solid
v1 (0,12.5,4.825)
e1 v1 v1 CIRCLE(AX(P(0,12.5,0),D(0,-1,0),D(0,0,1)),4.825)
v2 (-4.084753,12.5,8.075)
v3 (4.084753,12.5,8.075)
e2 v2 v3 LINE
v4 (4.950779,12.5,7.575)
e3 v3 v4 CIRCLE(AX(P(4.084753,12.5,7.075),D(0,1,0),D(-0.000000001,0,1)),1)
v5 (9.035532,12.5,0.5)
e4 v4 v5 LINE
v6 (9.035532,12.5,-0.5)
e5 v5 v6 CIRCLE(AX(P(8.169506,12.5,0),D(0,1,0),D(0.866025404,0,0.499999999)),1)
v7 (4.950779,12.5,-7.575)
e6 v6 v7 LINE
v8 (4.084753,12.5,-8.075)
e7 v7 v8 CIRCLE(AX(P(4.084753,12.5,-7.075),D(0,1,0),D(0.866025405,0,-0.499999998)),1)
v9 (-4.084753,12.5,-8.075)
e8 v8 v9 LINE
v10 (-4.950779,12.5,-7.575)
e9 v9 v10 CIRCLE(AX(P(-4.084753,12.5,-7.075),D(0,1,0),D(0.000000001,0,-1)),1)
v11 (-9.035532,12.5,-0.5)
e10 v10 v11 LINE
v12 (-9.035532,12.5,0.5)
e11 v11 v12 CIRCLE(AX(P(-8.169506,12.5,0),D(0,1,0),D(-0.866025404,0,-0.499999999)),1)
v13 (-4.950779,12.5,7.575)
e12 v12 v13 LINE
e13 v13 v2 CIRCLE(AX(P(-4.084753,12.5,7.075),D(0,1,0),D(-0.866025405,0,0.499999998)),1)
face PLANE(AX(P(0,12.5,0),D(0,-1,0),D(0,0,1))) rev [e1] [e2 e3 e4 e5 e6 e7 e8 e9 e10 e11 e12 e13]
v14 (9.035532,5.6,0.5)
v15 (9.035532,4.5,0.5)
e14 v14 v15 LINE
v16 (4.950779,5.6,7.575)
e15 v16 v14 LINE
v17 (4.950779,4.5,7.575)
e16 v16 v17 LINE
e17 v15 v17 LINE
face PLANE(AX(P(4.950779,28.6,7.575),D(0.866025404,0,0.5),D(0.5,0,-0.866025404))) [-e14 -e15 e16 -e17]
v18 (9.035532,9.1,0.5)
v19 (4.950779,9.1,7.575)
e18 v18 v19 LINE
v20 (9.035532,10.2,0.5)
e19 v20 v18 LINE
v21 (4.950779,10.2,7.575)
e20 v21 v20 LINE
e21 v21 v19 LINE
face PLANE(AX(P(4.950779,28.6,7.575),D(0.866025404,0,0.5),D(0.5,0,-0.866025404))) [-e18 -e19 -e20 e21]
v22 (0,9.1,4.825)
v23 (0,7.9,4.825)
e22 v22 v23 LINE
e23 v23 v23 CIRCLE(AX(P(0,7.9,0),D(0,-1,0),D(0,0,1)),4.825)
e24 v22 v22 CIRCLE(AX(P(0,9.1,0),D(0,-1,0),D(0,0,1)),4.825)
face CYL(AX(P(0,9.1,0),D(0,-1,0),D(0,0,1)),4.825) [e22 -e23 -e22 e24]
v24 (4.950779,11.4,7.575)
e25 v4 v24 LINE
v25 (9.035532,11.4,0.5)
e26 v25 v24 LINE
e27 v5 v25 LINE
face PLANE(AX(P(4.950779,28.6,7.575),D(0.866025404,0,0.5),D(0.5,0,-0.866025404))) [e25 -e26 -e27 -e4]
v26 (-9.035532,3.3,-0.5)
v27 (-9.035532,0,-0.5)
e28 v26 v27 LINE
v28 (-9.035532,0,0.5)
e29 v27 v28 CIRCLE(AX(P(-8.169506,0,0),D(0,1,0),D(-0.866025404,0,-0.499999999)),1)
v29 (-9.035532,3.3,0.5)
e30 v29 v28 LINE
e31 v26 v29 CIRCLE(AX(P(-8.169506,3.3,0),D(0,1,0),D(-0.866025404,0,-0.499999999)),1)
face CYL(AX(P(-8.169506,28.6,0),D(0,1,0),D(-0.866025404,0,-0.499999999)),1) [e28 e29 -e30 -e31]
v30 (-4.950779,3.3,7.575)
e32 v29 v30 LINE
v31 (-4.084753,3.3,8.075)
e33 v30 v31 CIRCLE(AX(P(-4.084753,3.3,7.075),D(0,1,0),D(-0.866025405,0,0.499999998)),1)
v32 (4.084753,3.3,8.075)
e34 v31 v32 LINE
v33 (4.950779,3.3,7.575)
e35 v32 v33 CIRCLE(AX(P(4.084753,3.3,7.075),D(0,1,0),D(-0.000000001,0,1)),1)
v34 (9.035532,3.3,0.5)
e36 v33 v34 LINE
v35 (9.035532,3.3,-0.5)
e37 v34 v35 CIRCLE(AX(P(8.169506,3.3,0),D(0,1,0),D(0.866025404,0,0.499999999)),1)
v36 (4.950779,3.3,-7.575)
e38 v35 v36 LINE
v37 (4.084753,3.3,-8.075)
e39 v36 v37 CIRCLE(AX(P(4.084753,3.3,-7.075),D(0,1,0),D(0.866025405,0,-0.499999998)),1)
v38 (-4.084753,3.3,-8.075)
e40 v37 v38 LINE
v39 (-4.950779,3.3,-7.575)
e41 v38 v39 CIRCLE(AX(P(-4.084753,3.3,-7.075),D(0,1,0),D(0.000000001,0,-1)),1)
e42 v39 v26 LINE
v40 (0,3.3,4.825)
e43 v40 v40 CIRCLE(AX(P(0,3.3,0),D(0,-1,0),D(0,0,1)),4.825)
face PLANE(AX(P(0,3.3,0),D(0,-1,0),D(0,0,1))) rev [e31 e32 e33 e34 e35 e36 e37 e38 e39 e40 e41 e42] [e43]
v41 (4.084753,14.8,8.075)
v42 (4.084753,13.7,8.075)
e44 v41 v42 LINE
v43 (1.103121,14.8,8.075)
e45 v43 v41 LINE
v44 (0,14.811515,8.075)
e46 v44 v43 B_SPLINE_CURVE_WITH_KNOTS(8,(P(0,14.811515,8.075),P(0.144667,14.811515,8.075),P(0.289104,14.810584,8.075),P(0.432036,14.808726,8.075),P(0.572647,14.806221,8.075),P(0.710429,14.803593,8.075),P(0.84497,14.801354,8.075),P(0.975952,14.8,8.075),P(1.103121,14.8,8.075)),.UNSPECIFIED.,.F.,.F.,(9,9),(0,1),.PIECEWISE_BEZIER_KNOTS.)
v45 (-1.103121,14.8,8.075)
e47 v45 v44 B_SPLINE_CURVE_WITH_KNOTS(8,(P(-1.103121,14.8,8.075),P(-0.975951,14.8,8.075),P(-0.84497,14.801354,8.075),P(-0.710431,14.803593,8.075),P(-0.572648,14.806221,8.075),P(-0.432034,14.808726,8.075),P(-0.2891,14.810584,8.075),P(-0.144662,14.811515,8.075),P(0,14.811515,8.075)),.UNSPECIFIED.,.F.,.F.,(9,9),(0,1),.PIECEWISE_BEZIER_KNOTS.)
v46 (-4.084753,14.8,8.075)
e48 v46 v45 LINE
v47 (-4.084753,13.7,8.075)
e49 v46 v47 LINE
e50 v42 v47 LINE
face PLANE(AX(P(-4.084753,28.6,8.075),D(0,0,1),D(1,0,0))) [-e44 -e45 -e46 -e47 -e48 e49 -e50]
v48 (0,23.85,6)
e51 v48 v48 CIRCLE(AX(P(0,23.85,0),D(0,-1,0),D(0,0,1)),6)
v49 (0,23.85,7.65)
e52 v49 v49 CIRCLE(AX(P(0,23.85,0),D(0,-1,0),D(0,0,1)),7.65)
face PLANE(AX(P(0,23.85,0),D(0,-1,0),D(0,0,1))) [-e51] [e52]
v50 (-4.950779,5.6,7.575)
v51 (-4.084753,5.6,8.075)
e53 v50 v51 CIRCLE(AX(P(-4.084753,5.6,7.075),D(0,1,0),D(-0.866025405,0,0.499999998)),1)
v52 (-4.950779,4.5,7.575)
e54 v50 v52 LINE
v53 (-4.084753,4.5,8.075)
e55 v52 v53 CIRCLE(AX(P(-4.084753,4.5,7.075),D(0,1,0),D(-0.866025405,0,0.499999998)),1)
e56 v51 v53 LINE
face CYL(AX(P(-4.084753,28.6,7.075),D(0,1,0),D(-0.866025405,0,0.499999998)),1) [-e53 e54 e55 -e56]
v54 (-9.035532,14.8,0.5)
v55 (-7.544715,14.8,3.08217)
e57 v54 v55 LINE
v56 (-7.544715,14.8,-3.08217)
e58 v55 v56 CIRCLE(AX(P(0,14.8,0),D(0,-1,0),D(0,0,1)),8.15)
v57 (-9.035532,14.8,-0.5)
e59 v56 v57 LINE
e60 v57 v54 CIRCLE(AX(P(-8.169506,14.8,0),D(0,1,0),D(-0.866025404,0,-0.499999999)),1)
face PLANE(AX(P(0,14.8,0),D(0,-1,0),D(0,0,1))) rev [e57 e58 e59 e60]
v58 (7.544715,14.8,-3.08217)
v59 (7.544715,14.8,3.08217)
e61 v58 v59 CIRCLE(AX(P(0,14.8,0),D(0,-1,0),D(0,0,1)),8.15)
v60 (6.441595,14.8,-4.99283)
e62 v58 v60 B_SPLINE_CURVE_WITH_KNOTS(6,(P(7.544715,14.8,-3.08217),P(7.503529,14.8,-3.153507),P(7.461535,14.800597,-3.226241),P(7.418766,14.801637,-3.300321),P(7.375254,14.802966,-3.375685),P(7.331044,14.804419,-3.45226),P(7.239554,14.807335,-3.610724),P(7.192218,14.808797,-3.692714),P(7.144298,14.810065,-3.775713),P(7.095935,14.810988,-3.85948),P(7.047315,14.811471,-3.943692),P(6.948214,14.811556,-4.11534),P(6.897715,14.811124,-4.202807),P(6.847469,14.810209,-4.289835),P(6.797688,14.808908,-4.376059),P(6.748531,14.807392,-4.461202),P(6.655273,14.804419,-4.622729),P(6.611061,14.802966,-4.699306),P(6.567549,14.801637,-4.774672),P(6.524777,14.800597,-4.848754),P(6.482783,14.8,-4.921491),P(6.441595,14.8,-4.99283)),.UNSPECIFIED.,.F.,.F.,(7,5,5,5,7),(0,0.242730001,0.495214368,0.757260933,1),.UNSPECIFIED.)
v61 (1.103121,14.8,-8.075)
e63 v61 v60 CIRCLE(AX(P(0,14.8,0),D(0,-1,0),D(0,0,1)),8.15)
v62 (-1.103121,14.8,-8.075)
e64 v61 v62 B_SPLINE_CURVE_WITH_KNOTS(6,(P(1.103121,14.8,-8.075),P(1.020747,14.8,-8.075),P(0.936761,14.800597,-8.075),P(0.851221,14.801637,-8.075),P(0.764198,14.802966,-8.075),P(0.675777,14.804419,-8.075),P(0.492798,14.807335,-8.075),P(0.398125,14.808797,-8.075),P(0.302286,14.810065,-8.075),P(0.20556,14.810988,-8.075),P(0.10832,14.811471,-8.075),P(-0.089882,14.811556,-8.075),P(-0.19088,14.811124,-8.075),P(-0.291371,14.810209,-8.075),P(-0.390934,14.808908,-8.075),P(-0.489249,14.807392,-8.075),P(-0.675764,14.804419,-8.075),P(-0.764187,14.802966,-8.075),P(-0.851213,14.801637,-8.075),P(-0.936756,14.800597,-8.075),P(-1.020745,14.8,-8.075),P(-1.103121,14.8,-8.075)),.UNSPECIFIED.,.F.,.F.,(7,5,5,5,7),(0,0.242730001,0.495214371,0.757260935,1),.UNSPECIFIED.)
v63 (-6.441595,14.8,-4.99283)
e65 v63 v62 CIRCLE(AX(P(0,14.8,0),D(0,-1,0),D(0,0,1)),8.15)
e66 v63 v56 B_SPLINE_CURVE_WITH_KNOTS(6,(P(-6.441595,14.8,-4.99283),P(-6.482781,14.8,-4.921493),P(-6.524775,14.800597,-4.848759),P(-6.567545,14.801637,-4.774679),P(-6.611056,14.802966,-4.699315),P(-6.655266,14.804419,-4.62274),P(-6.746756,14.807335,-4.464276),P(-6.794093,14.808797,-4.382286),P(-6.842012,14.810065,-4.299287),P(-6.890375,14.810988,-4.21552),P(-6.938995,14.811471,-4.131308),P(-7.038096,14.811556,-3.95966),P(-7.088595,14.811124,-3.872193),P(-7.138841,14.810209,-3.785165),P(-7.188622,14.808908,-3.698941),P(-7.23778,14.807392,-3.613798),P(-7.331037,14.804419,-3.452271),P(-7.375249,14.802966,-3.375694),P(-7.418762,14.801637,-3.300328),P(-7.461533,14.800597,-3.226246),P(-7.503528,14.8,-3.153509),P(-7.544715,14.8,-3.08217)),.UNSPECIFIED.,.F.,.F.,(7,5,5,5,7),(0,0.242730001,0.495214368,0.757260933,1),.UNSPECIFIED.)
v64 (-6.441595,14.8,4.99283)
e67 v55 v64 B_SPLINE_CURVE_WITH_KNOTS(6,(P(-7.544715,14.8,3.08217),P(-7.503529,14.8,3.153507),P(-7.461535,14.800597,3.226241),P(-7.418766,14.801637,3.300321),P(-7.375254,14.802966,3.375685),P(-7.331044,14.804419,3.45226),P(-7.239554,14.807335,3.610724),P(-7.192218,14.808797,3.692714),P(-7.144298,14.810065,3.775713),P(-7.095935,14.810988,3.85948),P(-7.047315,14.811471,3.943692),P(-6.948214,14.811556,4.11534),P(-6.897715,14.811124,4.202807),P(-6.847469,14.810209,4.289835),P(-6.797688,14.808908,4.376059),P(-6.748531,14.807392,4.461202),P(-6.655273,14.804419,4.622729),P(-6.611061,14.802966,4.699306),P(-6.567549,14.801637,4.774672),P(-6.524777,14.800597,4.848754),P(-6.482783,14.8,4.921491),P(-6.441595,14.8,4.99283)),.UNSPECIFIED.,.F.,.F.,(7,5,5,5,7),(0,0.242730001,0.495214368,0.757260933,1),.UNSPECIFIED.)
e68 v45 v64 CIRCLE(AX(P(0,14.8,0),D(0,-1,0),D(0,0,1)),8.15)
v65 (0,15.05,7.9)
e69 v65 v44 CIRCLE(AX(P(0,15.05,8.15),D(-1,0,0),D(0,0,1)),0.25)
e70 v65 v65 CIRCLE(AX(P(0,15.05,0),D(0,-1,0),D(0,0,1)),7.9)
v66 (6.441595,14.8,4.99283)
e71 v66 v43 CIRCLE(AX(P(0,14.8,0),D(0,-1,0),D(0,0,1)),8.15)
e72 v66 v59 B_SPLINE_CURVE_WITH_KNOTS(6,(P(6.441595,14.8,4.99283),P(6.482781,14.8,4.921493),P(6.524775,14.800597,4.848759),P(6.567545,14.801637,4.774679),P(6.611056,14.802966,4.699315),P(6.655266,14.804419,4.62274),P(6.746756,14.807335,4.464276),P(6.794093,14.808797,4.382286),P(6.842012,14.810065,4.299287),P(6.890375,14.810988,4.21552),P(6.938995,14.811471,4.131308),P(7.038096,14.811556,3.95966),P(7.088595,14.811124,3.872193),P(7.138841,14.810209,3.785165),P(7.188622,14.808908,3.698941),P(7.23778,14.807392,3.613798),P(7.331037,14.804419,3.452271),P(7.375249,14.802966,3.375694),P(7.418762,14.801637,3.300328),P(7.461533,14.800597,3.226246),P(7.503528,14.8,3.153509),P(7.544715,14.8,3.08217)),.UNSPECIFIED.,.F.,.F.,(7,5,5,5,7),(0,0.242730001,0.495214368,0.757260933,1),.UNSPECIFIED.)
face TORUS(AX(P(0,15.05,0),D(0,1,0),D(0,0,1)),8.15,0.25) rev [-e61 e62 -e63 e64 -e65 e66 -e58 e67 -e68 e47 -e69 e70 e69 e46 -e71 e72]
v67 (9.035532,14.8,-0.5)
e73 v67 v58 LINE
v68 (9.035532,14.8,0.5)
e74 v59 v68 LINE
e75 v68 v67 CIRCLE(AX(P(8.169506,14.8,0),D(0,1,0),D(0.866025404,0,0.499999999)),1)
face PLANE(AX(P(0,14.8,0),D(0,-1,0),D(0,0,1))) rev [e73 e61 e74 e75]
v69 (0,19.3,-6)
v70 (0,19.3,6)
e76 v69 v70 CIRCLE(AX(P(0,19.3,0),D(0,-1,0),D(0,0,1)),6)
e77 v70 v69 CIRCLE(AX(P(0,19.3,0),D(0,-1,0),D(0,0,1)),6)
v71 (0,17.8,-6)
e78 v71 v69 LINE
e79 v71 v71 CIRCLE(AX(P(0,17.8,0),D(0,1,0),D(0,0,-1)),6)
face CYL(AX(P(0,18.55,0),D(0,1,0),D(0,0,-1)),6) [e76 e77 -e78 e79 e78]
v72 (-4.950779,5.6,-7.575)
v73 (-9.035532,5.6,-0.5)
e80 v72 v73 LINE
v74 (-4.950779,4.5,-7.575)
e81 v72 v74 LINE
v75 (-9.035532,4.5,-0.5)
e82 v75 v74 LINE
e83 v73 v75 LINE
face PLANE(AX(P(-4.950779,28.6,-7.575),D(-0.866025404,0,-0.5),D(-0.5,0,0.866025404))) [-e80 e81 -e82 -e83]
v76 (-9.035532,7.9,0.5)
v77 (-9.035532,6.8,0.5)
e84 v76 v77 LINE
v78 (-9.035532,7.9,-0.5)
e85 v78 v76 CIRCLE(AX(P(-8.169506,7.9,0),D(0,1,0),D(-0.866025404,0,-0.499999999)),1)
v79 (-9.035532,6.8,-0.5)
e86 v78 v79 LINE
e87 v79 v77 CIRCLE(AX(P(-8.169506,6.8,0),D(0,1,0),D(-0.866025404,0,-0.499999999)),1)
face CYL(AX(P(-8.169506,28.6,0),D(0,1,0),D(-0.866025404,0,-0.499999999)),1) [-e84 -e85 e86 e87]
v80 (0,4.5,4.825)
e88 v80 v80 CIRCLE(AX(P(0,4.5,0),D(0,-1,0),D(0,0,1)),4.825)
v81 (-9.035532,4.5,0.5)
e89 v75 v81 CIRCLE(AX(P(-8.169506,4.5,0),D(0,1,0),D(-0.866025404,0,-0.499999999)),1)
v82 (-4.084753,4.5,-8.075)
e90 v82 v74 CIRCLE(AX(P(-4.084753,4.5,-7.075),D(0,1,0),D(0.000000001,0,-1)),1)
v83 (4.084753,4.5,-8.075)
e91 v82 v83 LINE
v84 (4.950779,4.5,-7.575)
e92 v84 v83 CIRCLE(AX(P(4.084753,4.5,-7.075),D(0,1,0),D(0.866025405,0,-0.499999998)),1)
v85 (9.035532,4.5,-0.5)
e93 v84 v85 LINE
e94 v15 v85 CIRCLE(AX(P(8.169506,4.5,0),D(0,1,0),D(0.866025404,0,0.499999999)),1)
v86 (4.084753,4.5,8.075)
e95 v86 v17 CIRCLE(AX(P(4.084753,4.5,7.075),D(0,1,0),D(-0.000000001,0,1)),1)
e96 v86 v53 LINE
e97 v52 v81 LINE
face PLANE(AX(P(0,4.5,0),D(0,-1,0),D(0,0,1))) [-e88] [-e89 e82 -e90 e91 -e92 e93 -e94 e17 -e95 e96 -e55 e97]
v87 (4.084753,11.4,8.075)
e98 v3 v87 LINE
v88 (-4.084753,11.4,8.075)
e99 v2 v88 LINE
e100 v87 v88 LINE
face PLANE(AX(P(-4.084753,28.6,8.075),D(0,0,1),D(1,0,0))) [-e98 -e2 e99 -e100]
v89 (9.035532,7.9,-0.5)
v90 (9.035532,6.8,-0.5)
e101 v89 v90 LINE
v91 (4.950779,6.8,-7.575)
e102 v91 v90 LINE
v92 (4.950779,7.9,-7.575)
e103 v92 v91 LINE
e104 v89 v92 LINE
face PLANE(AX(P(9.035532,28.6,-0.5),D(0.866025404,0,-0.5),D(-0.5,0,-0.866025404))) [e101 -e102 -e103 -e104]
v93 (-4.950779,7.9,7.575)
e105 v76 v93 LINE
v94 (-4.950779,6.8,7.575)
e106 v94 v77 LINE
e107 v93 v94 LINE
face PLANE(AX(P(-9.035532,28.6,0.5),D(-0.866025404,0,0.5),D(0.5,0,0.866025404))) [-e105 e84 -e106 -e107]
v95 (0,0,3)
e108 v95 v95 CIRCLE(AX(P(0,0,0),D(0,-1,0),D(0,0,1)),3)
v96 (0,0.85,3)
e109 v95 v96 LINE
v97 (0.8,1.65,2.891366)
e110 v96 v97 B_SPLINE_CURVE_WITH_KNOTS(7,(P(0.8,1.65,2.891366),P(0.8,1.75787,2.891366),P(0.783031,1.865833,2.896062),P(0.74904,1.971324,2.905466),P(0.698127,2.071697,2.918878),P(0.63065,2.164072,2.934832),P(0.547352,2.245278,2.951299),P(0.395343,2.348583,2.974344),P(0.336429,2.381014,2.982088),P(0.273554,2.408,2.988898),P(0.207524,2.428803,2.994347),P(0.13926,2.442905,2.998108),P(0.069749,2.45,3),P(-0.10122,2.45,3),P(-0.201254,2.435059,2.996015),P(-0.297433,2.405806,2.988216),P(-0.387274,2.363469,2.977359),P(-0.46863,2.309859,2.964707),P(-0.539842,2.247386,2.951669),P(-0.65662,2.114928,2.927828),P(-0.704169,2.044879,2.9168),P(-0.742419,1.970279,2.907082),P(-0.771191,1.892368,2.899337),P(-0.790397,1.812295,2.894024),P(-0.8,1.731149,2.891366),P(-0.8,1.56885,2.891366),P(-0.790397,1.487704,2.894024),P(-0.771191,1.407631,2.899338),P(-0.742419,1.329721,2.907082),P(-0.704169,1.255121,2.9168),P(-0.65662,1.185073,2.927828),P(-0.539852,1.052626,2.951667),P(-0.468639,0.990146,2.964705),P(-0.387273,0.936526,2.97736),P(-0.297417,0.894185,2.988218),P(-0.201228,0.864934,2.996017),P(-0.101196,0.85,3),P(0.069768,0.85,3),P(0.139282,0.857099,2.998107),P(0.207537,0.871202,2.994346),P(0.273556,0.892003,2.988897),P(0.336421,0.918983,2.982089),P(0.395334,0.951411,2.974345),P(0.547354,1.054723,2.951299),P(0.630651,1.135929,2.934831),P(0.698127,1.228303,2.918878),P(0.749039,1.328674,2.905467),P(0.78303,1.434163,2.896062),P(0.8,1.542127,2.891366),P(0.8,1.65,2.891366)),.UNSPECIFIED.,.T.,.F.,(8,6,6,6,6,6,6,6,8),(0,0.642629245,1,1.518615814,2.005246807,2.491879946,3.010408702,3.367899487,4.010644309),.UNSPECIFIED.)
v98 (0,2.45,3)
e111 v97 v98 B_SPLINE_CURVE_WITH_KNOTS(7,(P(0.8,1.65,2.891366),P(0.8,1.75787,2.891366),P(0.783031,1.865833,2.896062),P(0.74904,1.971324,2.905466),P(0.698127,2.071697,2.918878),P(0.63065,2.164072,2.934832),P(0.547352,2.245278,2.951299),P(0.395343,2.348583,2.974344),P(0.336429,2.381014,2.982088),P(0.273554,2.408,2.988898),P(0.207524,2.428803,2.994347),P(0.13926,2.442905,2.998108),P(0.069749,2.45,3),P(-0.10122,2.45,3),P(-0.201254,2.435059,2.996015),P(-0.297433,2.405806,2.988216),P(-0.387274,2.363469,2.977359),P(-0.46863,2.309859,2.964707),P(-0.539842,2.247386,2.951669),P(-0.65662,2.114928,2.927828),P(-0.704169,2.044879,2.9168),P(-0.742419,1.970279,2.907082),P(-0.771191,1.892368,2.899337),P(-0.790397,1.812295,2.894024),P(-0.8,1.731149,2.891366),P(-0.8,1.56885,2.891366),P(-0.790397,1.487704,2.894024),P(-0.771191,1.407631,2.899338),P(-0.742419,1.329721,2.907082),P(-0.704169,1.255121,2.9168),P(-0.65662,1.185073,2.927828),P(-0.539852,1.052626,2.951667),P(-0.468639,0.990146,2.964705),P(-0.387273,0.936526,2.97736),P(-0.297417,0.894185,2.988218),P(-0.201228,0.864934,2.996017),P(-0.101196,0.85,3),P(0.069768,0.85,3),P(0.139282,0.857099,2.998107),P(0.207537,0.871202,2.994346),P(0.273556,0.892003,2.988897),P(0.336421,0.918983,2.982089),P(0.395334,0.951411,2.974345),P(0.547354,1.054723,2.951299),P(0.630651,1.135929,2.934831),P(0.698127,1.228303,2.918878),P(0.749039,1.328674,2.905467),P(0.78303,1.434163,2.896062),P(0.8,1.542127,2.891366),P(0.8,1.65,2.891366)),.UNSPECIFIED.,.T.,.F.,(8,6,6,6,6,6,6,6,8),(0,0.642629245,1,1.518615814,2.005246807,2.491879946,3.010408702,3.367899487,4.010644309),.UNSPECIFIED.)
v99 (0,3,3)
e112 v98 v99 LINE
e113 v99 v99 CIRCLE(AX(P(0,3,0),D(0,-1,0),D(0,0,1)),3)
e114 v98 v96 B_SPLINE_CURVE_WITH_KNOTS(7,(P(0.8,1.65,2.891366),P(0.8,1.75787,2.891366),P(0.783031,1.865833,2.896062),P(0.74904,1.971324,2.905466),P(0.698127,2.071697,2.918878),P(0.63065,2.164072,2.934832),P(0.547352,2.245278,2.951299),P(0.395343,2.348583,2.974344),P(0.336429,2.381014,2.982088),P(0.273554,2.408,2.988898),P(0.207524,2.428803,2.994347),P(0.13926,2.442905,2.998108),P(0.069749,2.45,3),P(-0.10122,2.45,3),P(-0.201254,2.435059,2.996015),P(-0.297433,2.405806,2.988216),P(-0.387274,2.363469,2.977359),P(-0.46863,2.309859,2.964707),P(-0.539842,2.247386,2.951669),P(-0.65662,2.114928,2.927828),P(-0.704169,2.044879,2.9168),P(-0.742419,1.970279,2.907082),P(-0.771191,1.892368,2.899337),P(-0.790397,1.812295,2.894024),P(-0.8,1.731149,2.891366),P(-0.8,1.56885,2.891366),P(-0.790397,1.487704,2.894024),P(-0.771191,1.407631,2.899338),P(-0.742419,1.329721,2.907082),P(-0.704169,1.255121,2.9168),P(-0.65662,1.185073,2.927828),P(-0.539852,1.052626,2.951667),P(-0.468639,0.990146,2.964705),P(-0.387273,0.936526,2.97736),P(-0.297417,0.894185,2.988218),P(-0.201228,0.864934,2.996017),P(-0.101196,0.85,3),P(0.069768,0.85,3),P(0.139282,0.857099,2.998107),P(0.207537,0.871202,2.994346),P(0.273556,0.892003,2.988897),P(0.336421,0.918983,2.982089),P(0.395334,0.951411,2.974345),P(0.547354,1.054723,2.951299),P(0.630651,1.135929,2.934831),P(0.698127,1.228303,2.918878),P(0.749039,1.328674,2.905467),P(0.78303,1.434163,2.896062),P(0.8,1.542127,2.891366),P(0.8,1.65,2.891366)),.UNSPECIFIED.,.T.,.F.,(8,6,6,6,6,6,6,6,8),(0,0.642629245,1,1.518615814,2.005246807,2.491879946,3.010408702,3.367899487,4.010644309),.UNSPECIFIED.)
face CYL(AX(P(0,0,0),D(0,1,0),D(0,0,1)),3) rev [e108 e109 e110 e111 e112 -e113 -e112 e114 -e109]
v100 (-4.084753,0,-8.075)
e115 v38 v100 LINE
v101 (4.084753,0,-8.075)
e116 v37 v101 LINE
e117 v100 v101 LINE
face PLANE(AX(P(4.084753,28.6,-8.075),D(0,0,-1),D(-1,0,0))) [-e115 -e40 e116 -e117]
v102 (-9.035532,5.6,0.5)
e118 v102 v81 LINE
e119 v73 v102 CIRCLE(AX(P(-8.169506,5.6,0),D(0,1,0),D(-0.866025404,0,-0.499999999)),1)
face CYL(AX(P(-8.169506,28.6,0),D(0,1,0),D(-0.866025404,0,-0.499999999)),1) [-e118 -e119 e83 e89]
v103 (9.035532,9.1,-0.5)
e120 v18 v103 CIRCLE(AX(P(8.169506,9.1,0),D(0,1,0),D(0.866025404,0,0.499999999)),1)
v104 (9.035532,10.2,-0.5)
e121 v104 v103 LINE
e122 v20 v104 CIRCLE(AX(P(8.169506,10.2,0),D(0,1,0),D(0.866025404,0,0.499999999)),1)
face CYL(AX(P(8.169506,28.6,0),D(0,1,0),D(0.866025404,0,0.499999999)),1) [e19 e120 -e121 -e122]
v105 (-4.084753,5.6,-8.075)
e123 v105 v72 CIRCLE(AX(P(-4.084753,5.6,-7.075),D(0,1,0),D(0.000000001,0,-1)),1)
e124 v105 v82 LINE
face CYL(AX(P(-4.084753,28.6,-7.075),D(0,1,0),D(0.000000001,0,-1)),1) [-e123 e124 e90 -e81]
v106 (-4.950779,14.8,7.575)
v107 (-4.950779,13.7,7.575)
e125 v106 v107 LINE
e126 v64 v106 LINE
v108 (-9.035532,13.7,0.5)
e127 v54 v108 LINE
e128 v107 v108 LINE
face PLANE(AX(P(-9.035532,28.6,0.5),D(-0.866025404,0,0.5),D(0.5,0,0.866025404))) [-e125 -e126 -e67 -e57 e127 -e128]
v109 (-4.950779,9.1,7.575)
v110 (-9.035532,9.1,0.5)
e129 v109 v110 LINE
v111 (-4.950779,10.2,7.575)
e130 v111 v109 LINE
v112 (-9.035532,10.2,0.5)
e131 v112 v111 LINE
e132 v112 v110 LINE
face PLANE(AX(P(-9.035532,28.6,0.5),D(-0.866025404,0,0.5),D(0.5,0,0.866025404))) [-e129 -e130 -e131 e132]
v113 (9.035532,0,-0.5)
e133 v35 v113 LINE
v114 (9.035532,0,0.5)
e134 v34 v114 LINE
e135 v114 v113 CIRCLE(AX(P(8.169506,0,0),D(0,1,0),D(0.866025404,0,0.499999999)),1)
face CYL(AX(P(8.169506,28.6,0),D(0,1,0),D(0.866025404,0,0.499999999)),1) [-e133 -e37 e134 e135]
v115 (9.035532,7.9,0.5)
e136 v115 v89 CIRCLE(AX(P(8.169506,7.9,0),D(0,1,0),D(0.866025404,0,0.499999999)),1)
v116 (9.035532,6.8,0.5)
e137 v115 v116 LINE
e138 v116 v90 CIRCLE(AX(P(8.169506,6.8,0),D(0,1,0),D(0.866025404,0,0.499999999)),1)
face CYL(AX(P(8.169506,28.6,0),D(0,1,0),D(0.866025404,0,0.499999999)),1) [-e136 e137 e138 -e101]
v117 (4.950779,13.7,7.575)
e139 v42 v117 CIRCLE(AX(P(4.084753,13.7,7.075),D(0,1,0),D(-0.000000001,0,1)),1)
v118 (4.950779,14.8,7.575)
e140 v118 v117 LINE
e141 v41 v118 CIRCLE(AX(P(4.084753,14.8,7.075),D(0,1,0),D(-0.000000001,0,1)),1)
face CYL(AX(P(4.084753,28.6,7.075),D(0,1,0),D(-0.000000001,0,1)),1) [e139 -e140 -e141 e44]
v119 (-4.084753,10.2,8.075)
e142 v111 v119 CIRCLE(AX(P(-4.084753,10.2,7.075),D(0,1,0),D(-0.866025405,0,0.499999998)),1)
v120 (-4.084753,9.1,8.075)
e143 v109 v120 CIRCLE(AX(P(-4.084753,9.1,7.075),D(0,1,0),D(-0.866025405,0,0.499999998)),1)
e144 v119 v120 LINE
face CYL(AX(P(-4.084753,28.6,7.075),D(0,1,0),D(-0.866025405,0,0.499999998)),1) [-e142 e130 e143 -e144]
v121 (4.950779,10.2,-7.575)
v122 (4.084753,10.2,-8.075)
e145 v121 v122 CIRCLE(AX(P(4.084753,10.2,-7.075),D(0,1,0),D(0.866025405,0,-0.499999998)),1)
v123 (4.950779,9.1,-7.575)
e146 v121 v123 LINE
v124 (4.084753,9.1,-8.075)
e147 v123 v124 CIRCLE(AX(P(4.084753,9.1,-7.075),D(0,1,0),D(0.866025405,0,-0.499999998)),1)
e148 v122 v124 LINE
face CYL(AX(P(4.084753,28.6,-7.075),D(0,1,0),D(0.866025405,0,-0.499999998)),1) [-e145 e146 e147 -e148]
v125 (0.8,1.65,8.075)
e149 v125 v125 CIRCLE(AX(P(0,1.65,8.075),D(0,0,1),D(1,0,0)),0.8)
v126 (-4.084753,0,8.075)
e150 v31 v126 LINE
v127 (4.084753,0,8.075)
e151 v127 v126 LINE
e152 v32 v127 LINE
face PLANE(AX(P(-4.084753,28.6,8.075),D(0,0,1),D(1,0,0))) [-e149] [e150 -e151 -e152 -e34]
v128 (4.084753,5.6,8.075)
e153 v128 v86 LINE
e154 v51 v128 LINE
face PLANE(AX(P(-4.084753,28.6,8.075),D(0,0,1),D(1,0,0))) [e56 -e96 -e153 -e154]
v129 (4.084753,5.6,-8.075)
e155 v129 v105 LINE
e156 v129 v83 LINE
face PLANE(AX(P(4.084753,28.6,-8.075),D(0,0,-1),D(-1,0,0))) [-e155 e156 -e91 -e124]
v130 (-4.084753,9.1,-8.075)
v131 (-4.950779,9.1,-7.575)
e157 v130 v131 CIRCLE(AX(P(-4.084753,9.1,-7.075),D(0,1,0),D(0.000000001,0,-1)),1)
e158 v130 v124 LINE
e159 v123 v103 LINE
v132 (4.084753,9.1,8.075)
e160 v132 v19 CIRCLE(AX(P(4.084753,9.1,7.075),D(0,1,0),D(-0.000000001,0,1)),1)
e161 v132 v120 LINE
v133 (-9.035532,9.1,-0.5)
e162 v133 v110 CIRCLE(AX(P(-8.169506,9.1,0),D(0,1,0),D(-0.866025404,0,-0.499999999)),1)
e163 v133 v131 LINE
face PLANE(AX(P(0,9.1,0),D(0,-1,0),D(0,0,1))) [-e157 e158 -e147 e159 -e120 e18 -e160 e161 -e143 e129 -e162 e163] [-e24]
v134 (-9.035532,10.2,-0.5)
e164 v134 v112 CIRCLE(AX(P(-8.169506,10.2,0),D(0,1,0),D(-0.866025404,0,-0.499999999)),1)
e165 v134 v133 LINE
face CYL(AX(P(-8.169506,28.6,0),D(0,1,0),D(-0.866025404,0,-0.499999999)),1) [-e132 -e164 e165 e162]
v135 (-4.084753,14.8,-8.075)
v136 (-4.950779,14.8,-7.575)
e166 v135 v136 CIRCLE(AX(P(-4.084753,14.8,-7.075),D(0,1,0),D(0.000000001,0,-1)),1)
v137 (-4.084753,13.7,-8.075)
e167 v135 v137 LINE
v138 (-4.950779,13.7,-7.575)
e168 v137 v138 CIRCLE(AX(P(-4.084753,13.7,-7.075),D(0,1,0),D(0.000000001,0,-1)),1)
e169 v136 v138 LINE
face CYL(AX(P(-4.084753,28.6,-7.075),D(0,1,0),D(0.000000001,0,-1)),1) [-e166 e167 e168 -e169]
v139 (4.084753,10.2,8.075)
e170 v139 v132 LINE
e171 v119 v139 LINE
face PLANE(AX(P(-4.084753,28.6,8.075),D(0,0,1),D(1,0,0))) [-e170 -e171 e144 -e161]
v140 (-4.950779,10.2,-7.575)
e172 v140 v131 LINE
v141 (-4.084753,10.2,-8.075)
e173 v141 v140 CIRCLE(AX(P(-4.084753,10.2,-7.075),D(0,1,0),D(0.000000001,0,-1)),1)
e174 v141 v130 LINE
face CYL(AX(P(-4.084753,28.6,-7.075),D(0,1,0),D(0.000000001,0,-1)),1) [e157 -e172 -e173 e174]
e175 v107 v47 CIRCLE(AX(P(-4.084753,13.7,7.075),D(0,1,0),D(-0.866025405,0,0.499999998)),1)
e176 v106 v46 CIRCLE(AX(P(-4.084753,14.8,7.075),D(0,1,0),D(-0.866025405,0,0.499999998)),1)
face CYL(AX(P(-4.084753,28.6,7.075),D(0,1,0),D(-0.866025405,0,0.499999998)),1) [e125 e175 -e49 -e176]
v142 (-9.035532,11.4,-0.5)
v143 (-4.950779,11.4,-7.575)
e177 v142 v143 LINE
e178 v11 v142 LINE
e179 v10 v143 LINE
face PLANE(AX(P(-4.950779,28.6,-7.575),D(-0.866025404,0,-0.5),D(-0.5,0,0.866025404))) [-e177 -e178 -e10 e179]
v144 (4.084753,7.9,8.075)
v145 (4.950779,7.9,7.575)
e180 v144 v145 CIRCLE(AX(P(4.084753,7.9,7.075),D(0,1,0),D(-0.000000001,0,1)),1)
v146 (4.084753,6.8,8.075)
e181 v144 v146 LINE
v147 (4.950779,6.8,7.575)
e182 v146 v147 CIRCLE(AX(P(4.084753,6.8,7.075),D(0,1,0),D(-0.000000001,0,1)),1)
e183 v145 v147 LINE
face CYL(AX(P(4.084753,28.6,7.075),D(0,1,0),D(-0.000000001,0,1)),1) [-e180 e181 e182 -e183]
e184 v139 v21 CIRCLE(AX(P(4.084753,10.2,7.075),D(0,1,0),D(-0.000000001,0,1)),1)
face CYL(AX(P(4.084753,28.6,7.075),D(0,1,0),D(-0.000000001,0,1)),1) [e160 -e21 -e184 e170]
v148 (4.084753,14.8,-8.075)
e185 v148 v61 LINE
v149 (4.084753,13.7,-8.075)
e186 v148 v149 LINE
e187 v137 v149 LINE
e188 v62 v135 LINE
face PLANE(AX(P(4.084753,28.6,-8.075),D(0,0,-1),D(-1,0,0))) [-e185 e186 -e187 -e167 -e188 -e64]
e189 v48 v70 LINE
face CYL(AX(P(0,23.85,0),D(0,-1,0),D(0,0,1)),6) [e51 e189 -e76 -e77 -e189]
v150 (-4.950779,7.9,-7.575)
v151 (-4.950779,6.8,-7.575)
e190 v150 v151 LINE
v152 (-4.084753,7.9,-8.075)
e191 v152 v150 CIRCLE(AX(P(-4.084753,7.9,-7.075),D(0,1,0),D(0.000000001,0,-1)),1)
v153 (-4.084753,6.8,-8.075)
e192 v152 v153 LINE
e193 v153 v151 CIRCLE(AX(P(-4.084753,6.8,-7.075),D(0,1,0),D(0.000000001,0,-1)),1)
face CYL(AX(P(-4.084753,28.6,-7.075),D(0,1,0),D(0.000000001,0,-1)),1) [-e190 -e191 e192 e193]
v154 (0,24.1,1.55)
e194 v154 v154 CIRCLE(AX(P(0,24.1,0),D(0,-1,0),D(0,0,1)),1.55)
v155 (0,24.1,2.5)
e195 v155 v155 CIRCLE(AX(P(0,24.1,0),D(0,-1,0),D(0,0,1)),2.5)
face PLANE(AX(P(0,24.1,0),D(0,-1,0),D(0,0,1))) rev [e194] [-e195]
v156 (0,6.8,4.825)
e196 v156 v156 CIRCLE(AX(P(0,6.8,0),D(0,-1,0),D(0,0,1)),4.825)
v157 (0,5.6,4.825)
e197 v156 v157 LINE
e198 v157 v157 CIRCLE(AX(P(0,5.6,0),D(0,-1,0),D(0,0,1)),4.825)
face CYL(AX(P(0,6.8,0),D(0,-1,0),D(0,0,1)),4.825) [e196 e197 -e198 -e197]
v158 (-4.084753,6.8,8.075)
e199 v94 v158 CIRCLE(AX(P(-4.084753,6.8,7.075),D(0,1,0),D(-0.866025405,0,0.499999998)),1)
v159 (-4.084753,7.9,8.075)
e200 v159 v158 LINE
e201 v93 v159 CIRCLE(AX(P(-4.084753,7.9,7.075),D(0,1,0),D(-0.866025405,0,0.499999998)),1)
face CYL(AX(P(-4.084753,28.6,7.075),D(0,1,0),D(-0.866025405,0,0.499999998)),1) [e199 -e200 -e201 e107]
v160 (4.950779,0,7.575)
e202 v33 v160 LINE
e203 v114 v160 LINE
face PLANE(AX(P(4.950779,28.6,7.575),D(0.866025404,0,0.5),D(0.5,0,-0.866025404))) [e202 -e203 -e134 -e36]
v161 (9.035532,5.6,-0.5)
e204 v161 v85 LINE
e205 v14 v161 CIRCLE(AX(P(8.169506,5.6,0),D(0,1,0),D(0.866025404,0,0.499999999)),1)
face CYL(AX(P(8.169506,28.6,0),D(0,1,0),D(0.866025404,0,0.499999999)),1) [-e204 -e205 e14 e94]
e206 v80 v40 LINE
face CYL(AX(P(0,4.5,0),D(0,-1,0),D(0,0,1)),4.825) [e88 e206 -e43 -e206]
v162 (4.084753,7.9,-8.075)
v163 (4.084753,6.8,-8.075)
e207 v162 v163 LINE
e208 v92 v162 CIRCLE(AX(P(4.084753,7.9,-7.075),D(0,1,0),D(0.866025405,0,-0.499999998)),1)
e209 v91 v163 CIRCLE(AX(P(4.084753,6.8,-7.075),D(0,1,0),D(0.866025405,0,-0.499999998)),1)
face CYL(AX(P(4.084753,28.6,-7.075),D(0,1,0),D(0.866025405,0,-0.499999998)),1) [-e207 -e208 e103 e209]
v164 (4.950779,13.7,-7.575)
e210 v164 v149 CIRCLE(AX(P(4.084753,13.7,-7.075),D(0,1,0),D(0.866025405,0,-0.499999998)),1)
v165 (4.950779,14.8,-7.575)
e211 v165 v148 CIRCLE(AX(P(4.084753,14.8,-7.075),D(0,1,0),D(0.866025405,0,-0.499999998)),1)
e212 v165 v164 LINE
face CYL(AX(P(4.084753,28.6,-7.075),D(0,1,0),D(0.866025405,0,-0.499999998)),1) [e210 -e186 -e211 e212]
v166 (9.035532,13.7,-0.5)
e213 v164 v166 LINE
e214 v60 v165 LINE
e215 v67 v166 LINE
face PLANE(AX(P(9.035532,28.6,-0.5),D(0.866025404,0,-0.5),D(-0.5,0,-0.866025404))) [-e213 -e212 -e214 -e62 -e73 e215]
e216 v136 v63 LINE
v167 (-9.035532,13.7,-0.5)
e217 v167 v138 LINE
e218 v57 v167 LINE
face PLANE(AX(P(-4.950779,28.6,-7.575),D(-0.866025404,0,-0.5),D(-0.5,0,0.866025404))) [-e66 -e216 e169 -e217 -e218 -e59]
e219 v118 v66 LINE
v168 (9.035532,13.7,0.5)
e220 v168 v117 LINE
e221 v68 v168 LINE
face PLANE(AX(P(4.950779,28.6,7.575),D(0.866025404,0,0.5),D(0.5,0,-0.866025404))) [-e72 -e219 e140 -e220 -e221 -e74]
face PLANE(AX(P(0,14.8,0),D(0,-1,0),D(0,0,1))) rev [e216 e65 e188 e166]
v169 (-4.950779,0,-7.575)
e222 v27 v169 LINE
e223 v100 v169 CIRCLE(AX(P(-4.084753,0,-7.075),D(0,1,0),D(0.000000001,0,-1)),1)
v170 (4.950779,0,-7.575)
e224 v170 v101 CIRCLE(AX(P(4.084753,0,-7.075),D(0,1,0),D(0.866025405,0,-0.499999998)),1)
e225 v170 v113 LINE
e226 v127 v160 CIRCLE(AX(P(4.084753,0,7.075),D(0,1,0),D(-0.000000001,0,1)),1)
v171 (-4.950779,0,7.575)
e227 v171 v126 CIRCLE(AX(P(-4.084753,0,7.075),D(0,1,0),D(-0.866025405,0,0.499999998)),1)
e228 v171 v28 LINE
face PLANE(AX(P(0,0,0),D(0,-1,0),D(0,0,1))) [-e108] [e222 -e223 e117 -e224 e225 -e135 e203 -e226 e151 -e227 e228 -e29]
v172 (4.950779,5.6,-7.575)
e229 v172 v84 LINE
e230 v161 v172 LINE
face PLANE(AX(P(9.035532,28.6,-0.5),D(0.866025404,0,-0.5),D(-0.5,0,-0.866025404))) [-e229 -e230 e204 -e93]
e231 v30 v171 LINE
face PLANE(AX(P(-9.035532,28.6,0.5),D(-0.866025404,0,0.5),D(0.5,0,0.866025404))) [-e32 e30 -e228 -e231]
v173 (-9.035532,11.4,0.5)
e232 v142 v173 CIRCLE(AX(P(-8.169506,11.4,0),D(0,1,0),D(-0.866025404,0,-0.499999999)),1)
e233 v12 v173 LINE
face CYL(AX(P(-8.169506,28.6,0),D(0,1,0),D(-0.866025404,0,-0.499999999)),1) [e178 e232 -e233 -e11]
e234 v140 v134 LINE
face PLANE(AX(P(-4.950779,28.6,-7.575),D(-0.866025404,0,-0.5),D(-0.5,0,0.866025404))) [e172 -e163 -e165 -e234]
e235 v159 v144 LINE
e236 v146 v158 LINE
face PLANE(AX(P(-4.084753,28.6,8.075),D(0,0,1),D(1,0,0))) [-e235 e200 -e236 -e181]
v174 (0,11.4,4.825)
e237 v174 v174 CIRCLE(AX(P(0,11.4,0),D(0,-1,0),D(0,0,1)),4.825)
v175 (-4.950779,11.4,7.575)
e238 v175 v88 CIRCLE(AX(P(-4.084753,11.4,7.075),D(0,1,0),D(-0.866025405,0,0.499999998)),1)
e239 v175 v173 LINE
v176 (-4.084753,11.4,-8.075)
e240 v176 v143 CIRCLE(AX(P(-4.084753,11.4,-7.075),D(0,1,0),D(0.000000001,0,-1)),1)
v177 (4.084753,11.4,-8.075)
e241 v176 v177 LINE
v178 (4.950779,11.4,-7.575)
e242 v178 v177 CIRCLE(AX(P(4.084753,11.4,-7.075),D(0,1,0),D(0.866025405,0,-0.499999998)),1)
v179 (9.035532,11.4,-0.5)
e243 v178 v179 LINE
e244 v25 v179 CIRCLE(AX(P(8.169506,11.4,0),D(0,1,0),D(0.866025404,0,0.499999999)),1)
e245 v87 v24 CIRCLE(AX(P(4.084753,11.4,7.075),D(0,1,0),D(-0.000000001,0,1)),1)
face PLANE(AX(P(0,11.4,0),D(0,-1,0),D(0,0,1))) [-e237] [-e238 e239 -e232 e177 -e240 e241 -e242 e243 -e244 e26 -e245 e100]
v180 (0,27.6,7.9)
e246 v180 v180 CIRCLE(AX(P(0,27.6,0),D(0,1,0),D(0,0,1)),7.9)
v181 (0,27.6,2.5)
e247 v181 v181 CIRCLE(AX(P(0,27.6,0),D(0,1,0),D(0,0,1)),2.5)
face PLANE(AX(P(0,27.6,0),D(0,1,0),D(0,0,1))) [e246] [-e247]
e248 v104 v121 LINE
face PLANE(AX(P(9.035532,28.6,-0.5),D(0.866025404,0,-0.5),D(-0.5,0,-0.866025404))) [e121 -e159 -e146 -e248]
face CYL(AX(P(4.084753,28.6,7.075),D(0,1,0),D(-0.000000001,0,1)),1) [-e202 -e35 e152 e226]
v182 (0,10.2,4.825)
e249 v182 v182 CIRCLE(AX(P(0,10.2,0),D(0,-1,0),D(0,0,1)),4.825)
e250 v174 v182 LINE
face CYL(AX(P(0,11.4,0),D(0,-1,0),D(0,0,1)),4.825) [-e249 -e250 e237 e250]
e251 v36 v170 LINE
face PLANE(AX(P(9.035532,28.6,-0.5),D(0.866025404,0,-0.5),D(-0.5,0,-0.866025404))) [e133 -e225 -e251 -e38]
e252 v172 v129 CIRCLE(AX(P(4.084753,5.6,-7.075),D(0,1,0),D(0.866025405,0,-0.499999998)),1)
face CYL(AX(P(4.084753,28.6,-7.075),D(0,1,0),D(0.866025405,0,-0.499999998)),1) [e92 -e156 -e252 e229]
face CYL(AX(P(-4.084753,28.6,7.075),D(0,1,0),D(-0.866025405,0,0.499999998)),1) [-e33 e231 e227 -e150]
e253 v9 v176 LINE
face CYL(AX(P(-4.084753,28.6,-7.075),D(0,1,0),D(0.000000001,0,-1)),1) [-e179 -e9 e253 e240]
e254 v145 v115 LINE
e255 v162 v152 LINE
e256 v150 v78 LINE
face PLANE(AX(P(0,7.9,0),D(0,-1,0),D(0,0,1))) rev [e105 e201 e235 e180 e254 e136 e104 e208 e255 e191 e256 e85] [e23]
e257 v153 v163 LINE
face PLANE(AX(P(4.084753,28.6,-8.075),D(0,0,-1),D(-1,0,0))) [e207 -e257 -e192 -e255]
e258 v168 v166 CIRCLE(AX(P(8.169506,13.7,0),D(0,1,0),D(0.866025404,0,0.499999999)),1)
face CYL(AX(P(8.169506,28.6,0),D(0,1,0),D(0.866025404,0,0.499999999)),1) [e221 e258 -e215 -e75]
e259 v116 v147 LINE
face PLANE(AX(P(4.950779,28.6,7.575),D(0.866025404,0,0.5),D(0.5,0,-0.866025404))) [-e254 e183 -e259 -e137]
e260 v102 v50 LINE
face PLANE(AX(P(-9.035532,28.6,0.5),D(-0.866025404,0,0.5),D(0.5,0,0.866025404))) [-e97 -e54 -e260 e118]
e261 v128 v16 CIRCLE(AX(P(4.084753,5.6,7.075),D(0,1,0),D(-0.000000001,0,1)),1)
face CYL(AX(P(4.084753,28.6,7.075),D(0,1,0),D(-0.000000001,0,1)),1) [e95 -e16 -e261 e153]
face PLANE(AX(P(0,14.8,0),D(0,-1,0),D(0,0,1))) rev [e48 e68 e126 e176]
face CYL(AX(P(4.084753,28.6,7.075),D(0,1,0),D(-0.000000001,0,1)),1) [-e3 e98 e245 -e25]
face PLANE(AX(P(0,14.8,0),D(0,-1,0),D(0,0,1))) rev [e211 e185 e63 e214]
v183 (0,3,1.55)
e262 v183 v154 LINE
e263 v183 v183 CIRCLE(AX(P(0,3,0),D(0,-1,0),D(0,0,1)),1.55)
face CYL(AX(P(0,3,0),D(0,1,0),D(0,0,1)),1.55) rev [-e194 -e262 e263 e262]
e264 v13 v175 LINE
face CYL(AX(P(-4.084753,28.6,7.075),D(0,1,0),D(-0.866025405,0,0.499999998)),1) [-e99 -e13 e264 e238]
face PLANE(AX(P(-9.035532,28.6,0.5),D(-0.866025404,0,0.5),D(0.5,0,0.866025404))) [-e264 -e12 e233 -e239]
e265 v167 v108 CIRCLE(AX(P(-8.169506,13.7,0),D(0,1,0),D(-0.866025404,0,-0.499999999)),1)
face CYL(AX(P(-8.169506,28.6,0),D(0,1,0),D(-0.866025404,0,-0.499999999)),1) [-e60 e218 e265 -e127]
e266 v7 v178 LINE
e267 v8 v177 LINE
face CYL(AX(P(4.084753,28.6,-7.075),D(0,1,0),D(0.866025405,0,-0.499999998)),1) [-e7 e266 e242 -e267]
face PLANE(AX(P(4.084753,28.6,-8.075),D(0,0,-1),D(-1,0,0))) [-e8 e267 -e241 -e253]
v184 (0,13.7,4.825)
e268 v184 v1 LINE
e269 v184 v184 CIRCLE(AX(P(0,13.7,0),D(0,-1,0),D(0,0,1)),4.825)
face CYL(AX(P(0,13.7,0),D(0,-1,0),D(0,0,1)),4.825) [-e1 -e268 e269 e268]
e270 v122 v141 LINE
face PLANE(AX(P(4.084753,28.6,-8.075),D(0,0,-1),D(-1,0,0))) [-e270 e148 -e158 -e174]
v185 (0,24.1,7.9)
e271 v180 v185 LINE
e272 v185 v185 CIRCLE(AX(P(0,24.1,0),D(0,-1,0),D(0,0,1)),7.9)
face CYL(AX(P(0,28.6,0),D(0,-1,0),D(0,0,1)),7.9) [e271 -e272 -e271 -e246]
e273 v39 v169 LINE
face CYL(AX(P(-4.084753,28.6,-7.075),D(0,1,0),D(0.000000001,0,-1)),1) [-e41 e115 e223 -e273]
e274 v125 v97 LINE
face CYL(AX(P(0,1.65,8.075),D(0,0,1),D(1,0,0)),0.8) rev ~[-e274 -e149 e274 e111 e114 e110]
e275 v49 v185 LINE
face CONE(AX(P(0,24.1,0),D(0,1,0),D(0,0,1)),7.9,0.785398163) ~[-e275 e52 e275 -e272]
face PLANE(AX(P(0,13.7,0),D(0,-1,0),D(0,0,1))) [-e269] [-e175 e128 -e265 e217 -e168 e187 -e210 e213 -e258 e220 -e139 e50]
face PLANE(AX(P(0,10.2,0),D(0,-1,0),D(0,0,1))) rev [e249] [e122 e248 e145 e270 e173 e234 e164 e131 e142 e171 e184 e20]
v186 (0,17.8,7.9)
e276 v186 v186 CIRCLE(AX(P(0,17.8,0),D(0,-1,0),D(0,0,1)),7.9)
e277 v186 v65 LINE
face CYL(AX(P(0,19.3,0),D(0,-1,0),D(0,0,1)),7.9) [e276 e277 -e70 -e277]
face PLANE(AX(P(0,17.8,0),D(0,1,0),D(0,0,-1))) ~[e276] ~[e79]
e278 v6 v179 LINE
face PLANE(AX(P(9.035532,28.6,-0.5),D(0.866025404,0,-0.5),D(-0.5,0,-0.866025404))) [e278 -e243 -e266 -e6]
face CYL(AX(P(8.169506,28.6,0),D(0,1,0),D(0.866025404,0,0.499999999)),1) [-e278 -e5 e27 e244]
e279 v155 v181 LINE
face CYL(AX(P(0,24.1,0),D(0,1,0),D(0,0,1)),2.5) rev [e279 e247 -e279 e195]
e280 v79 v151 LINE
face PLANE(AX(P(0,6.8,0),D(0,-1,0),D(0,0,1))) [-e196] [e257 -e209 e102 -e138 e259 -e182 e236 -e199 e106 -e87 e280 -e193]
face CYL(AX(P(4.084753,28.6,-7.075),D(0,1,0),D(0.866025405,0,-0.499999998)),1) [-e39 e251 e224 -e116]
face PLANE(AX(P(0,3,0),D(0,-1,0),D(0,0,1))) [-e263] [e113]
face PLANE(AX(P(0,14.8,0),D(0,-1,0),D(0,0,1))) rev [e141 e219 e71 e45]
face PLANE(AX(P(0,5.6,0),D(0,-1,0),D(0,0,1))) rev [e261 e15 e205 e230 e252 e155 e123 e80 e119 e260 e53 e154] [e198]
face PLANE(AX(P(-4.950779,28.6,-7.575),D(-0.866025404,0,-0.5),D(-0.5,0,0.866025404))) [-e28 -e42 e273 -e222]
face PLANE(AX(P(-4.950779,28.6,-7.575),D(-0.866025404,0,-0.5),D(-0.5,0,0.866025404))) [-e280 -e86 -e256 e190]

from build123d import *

# Parameters (mm, degrees)
FILLET1_R              = 0.25
SKETCH2_OUTSIDE_W      = 30.044
SKETCH2_OUTSIDE_H      = 30.044
CUT_EXTRUDE1_DEPTH     = 32.905485422
M2_TAPPED_HOLE1_REACH  = 36.101
M2_TAPPED_HOLE1_BORE_R = 0.8
CHAMFER1_SIZE          = 0.25
CHAMFER2_SIZE          = 0.5
CUT_EXTRUDE2_START     = -1
SKETCH6_R              = 7.9
CUT_EXTRUDE2_DEPTH     = 1
SKETCH7_W              = 4
SKETCH7_H              = 1.5


with BuildPart() as part:
    # Sketch1 → Revolve1 (revolve)
    with BuildSketch(Plane(origin=(0, 0, 0), x_dir=(0, 0, -1), z_dir=(1, 0, 0)), mode=Mode.PRIVATE) as revolve1_sk:
        Polygon((3, 0), (3, 3), (1.55, 3), (1.55, 24.1), (2.5, 24.1), (2.5, 28.6), (7.9, 28.6), (7.9, 23.85), (6, 23.85), (6, 19.3), (7.9, 19.3), (7.9, 14.8), (10, 14.8), (10, 13.7), (4.825, 13.7), (4.825, 12.5), (10, 12.5), (10, 11.4), (4.825, 11.4), (4.825, 10.2), (10, 10.2), (10, 9.1), (4.825, 9.1), (4.825, 7.9), (10, 7.9), (10, 6.8), (4.825, 6.8), (4.825, 5.6), (10, 5.6), (10, 4.5), (4.825, 4.5), (4.825, 3.3), (10, 3.3), (10, 0), align=None)
    revolve(revolve1_sk.sketch.rotate(Axis((0, 57.621425894, 0), (0, -1, 0)), 180), axis=Axis((0, 57.621425894, 0), (0, -1, 0)))

    # Fillet1
    fillet1_edges = [part.edges().sort_by_distance(p)[0] for p in [
        (0, 14.8, -7.9),
    ]]
    fillet(fillet1_edges, radius=FILLET1_R)

    # Sketch2 outside → Cut-Extrude1 (cut, through all)
    with BuildSketch(Plane(origin=(0, 28.6, 0), x_dir=(1, 0, 0), z_dir=(0, 1, 0))):
        Rectangle(SKETCH2_OUTSIDE_W, SKETCH2_OUTSIDE_H)
        with BuildLine():
            Line((-4.084753155, -8.075), (4.084753155, -8.075))
            ThreePointArc((4.084753155, -8.075), (4.584753155, -7.941025404), (4.950778558, -7.575))
            Line((4.950778558, -7.575), (9.035531713, -0.5))
            ThreePointArc((9.035531713, -0.5), (9.169506309, 0), (9.035531713, 0.5))
            Line((9.035531713, 0.5), (4.950778558, 7.575))
            ThreePointArc((4.950778558, 7.575), (4.584753155, 7.941025404), (4.084753155, 8.075))
            Line((4.084753155, 8.075), (-4.084753155, 8.075))
            ThreePointArc((-4.084753155, 8.075), (-4.584753155, 7.941025404), (-4.950778558, 7.575))
            Line((-4.950778558, 7.575), (-9.035531713, 0.5))
            ThreePointArc((-9.035531713, 0.5), (-9.169506309, 0), (-9.035531713, -0.5))
            Line((-9.035531713, -0.5), (-4.950778558, -7.575))
            ThreePointArc((-4.950778558, -7.575), (-4.584753155, -7.941025404), (-4.084753155, -8.075))
        make_face(mode=Mode.SUBTRACT)
    extrude(amount=-CUT_EXTRUDE1_DEPTH, mode=Mode.SUBTRACT)

    # M2 Tapped Hole1 bore → M2 Tapped Hole1 (cut, up to next)
    with BuildSketch(Plane.XY.offset(8.075), mode=Mode.PRIVATE) as m2_tapped_hole1_sk1:
        with Locations((0, 1.65)):
            Circle(M2_TAPPED_HOLE1_BORE_R)
    m2_tapped_hole1_tool1 = extrude(m2_tapped_hole1_sk1.sketch, amount=-M2_TAPPED_HOLE1_REACH, mode=Mode.PRIVATE) & part.part
    add(m2_tapped_hole1_tool1.solids().sort_by_distance((0, 1.65, 8.075))[0], mode=Mode.SUBTRACT)

    # Chamfer1
    chamfer1_edges = [part.edges().sort_by_distance(p)[0] for p in [
        (0, 19.3, -7.9),
        (0, 23.85, -7.9),
        (0, 28.6, -7.9),
    ]]
    chamfer(chamfer1_edges, length=CHAMFER1_SIZE)

    # Chamfer2
    chamfer2_edges = [part.edges().sort_by_distance(p)[0] for p in [
        (0, 28.6, -2.5),
    ]]
    chamfer(chamfer2_edges, length=CHAMFER2_SIZE)

    # Sketch6 → Cut-Extrude2 (cut)
    with BuildSketch(Plane(origin=(0, 28.6, 0), x_dir=(1, 0, 0), z_dir=(0, 1, 0)).offset(CUT_EXTRUDE2_START)):
        with Locations(Location((0, 0, 0), (0, 0, 270))):
            Circle(SKETCH6_R)
    extrude(amount=CUT_EXTRUDE2_DEPTH, mode=Mode.SUBTRACT)

    # Sketch7 → Cut-Revolve1 (revolve, cut)
    with BuildSketch(Plane(origin=(0, 0, 0), x_dir=(0, 0, -1), z_dir=(1, 0, 0))):
        with Locations((8, 18.55)):
            Rectangle(SKETCH7_W, SKETCH7_H)
    revolve(axis=Axis((0, 0, 0), (0, 1, 0)), mode=Mode.SUBTRACT)


solid = part.part
